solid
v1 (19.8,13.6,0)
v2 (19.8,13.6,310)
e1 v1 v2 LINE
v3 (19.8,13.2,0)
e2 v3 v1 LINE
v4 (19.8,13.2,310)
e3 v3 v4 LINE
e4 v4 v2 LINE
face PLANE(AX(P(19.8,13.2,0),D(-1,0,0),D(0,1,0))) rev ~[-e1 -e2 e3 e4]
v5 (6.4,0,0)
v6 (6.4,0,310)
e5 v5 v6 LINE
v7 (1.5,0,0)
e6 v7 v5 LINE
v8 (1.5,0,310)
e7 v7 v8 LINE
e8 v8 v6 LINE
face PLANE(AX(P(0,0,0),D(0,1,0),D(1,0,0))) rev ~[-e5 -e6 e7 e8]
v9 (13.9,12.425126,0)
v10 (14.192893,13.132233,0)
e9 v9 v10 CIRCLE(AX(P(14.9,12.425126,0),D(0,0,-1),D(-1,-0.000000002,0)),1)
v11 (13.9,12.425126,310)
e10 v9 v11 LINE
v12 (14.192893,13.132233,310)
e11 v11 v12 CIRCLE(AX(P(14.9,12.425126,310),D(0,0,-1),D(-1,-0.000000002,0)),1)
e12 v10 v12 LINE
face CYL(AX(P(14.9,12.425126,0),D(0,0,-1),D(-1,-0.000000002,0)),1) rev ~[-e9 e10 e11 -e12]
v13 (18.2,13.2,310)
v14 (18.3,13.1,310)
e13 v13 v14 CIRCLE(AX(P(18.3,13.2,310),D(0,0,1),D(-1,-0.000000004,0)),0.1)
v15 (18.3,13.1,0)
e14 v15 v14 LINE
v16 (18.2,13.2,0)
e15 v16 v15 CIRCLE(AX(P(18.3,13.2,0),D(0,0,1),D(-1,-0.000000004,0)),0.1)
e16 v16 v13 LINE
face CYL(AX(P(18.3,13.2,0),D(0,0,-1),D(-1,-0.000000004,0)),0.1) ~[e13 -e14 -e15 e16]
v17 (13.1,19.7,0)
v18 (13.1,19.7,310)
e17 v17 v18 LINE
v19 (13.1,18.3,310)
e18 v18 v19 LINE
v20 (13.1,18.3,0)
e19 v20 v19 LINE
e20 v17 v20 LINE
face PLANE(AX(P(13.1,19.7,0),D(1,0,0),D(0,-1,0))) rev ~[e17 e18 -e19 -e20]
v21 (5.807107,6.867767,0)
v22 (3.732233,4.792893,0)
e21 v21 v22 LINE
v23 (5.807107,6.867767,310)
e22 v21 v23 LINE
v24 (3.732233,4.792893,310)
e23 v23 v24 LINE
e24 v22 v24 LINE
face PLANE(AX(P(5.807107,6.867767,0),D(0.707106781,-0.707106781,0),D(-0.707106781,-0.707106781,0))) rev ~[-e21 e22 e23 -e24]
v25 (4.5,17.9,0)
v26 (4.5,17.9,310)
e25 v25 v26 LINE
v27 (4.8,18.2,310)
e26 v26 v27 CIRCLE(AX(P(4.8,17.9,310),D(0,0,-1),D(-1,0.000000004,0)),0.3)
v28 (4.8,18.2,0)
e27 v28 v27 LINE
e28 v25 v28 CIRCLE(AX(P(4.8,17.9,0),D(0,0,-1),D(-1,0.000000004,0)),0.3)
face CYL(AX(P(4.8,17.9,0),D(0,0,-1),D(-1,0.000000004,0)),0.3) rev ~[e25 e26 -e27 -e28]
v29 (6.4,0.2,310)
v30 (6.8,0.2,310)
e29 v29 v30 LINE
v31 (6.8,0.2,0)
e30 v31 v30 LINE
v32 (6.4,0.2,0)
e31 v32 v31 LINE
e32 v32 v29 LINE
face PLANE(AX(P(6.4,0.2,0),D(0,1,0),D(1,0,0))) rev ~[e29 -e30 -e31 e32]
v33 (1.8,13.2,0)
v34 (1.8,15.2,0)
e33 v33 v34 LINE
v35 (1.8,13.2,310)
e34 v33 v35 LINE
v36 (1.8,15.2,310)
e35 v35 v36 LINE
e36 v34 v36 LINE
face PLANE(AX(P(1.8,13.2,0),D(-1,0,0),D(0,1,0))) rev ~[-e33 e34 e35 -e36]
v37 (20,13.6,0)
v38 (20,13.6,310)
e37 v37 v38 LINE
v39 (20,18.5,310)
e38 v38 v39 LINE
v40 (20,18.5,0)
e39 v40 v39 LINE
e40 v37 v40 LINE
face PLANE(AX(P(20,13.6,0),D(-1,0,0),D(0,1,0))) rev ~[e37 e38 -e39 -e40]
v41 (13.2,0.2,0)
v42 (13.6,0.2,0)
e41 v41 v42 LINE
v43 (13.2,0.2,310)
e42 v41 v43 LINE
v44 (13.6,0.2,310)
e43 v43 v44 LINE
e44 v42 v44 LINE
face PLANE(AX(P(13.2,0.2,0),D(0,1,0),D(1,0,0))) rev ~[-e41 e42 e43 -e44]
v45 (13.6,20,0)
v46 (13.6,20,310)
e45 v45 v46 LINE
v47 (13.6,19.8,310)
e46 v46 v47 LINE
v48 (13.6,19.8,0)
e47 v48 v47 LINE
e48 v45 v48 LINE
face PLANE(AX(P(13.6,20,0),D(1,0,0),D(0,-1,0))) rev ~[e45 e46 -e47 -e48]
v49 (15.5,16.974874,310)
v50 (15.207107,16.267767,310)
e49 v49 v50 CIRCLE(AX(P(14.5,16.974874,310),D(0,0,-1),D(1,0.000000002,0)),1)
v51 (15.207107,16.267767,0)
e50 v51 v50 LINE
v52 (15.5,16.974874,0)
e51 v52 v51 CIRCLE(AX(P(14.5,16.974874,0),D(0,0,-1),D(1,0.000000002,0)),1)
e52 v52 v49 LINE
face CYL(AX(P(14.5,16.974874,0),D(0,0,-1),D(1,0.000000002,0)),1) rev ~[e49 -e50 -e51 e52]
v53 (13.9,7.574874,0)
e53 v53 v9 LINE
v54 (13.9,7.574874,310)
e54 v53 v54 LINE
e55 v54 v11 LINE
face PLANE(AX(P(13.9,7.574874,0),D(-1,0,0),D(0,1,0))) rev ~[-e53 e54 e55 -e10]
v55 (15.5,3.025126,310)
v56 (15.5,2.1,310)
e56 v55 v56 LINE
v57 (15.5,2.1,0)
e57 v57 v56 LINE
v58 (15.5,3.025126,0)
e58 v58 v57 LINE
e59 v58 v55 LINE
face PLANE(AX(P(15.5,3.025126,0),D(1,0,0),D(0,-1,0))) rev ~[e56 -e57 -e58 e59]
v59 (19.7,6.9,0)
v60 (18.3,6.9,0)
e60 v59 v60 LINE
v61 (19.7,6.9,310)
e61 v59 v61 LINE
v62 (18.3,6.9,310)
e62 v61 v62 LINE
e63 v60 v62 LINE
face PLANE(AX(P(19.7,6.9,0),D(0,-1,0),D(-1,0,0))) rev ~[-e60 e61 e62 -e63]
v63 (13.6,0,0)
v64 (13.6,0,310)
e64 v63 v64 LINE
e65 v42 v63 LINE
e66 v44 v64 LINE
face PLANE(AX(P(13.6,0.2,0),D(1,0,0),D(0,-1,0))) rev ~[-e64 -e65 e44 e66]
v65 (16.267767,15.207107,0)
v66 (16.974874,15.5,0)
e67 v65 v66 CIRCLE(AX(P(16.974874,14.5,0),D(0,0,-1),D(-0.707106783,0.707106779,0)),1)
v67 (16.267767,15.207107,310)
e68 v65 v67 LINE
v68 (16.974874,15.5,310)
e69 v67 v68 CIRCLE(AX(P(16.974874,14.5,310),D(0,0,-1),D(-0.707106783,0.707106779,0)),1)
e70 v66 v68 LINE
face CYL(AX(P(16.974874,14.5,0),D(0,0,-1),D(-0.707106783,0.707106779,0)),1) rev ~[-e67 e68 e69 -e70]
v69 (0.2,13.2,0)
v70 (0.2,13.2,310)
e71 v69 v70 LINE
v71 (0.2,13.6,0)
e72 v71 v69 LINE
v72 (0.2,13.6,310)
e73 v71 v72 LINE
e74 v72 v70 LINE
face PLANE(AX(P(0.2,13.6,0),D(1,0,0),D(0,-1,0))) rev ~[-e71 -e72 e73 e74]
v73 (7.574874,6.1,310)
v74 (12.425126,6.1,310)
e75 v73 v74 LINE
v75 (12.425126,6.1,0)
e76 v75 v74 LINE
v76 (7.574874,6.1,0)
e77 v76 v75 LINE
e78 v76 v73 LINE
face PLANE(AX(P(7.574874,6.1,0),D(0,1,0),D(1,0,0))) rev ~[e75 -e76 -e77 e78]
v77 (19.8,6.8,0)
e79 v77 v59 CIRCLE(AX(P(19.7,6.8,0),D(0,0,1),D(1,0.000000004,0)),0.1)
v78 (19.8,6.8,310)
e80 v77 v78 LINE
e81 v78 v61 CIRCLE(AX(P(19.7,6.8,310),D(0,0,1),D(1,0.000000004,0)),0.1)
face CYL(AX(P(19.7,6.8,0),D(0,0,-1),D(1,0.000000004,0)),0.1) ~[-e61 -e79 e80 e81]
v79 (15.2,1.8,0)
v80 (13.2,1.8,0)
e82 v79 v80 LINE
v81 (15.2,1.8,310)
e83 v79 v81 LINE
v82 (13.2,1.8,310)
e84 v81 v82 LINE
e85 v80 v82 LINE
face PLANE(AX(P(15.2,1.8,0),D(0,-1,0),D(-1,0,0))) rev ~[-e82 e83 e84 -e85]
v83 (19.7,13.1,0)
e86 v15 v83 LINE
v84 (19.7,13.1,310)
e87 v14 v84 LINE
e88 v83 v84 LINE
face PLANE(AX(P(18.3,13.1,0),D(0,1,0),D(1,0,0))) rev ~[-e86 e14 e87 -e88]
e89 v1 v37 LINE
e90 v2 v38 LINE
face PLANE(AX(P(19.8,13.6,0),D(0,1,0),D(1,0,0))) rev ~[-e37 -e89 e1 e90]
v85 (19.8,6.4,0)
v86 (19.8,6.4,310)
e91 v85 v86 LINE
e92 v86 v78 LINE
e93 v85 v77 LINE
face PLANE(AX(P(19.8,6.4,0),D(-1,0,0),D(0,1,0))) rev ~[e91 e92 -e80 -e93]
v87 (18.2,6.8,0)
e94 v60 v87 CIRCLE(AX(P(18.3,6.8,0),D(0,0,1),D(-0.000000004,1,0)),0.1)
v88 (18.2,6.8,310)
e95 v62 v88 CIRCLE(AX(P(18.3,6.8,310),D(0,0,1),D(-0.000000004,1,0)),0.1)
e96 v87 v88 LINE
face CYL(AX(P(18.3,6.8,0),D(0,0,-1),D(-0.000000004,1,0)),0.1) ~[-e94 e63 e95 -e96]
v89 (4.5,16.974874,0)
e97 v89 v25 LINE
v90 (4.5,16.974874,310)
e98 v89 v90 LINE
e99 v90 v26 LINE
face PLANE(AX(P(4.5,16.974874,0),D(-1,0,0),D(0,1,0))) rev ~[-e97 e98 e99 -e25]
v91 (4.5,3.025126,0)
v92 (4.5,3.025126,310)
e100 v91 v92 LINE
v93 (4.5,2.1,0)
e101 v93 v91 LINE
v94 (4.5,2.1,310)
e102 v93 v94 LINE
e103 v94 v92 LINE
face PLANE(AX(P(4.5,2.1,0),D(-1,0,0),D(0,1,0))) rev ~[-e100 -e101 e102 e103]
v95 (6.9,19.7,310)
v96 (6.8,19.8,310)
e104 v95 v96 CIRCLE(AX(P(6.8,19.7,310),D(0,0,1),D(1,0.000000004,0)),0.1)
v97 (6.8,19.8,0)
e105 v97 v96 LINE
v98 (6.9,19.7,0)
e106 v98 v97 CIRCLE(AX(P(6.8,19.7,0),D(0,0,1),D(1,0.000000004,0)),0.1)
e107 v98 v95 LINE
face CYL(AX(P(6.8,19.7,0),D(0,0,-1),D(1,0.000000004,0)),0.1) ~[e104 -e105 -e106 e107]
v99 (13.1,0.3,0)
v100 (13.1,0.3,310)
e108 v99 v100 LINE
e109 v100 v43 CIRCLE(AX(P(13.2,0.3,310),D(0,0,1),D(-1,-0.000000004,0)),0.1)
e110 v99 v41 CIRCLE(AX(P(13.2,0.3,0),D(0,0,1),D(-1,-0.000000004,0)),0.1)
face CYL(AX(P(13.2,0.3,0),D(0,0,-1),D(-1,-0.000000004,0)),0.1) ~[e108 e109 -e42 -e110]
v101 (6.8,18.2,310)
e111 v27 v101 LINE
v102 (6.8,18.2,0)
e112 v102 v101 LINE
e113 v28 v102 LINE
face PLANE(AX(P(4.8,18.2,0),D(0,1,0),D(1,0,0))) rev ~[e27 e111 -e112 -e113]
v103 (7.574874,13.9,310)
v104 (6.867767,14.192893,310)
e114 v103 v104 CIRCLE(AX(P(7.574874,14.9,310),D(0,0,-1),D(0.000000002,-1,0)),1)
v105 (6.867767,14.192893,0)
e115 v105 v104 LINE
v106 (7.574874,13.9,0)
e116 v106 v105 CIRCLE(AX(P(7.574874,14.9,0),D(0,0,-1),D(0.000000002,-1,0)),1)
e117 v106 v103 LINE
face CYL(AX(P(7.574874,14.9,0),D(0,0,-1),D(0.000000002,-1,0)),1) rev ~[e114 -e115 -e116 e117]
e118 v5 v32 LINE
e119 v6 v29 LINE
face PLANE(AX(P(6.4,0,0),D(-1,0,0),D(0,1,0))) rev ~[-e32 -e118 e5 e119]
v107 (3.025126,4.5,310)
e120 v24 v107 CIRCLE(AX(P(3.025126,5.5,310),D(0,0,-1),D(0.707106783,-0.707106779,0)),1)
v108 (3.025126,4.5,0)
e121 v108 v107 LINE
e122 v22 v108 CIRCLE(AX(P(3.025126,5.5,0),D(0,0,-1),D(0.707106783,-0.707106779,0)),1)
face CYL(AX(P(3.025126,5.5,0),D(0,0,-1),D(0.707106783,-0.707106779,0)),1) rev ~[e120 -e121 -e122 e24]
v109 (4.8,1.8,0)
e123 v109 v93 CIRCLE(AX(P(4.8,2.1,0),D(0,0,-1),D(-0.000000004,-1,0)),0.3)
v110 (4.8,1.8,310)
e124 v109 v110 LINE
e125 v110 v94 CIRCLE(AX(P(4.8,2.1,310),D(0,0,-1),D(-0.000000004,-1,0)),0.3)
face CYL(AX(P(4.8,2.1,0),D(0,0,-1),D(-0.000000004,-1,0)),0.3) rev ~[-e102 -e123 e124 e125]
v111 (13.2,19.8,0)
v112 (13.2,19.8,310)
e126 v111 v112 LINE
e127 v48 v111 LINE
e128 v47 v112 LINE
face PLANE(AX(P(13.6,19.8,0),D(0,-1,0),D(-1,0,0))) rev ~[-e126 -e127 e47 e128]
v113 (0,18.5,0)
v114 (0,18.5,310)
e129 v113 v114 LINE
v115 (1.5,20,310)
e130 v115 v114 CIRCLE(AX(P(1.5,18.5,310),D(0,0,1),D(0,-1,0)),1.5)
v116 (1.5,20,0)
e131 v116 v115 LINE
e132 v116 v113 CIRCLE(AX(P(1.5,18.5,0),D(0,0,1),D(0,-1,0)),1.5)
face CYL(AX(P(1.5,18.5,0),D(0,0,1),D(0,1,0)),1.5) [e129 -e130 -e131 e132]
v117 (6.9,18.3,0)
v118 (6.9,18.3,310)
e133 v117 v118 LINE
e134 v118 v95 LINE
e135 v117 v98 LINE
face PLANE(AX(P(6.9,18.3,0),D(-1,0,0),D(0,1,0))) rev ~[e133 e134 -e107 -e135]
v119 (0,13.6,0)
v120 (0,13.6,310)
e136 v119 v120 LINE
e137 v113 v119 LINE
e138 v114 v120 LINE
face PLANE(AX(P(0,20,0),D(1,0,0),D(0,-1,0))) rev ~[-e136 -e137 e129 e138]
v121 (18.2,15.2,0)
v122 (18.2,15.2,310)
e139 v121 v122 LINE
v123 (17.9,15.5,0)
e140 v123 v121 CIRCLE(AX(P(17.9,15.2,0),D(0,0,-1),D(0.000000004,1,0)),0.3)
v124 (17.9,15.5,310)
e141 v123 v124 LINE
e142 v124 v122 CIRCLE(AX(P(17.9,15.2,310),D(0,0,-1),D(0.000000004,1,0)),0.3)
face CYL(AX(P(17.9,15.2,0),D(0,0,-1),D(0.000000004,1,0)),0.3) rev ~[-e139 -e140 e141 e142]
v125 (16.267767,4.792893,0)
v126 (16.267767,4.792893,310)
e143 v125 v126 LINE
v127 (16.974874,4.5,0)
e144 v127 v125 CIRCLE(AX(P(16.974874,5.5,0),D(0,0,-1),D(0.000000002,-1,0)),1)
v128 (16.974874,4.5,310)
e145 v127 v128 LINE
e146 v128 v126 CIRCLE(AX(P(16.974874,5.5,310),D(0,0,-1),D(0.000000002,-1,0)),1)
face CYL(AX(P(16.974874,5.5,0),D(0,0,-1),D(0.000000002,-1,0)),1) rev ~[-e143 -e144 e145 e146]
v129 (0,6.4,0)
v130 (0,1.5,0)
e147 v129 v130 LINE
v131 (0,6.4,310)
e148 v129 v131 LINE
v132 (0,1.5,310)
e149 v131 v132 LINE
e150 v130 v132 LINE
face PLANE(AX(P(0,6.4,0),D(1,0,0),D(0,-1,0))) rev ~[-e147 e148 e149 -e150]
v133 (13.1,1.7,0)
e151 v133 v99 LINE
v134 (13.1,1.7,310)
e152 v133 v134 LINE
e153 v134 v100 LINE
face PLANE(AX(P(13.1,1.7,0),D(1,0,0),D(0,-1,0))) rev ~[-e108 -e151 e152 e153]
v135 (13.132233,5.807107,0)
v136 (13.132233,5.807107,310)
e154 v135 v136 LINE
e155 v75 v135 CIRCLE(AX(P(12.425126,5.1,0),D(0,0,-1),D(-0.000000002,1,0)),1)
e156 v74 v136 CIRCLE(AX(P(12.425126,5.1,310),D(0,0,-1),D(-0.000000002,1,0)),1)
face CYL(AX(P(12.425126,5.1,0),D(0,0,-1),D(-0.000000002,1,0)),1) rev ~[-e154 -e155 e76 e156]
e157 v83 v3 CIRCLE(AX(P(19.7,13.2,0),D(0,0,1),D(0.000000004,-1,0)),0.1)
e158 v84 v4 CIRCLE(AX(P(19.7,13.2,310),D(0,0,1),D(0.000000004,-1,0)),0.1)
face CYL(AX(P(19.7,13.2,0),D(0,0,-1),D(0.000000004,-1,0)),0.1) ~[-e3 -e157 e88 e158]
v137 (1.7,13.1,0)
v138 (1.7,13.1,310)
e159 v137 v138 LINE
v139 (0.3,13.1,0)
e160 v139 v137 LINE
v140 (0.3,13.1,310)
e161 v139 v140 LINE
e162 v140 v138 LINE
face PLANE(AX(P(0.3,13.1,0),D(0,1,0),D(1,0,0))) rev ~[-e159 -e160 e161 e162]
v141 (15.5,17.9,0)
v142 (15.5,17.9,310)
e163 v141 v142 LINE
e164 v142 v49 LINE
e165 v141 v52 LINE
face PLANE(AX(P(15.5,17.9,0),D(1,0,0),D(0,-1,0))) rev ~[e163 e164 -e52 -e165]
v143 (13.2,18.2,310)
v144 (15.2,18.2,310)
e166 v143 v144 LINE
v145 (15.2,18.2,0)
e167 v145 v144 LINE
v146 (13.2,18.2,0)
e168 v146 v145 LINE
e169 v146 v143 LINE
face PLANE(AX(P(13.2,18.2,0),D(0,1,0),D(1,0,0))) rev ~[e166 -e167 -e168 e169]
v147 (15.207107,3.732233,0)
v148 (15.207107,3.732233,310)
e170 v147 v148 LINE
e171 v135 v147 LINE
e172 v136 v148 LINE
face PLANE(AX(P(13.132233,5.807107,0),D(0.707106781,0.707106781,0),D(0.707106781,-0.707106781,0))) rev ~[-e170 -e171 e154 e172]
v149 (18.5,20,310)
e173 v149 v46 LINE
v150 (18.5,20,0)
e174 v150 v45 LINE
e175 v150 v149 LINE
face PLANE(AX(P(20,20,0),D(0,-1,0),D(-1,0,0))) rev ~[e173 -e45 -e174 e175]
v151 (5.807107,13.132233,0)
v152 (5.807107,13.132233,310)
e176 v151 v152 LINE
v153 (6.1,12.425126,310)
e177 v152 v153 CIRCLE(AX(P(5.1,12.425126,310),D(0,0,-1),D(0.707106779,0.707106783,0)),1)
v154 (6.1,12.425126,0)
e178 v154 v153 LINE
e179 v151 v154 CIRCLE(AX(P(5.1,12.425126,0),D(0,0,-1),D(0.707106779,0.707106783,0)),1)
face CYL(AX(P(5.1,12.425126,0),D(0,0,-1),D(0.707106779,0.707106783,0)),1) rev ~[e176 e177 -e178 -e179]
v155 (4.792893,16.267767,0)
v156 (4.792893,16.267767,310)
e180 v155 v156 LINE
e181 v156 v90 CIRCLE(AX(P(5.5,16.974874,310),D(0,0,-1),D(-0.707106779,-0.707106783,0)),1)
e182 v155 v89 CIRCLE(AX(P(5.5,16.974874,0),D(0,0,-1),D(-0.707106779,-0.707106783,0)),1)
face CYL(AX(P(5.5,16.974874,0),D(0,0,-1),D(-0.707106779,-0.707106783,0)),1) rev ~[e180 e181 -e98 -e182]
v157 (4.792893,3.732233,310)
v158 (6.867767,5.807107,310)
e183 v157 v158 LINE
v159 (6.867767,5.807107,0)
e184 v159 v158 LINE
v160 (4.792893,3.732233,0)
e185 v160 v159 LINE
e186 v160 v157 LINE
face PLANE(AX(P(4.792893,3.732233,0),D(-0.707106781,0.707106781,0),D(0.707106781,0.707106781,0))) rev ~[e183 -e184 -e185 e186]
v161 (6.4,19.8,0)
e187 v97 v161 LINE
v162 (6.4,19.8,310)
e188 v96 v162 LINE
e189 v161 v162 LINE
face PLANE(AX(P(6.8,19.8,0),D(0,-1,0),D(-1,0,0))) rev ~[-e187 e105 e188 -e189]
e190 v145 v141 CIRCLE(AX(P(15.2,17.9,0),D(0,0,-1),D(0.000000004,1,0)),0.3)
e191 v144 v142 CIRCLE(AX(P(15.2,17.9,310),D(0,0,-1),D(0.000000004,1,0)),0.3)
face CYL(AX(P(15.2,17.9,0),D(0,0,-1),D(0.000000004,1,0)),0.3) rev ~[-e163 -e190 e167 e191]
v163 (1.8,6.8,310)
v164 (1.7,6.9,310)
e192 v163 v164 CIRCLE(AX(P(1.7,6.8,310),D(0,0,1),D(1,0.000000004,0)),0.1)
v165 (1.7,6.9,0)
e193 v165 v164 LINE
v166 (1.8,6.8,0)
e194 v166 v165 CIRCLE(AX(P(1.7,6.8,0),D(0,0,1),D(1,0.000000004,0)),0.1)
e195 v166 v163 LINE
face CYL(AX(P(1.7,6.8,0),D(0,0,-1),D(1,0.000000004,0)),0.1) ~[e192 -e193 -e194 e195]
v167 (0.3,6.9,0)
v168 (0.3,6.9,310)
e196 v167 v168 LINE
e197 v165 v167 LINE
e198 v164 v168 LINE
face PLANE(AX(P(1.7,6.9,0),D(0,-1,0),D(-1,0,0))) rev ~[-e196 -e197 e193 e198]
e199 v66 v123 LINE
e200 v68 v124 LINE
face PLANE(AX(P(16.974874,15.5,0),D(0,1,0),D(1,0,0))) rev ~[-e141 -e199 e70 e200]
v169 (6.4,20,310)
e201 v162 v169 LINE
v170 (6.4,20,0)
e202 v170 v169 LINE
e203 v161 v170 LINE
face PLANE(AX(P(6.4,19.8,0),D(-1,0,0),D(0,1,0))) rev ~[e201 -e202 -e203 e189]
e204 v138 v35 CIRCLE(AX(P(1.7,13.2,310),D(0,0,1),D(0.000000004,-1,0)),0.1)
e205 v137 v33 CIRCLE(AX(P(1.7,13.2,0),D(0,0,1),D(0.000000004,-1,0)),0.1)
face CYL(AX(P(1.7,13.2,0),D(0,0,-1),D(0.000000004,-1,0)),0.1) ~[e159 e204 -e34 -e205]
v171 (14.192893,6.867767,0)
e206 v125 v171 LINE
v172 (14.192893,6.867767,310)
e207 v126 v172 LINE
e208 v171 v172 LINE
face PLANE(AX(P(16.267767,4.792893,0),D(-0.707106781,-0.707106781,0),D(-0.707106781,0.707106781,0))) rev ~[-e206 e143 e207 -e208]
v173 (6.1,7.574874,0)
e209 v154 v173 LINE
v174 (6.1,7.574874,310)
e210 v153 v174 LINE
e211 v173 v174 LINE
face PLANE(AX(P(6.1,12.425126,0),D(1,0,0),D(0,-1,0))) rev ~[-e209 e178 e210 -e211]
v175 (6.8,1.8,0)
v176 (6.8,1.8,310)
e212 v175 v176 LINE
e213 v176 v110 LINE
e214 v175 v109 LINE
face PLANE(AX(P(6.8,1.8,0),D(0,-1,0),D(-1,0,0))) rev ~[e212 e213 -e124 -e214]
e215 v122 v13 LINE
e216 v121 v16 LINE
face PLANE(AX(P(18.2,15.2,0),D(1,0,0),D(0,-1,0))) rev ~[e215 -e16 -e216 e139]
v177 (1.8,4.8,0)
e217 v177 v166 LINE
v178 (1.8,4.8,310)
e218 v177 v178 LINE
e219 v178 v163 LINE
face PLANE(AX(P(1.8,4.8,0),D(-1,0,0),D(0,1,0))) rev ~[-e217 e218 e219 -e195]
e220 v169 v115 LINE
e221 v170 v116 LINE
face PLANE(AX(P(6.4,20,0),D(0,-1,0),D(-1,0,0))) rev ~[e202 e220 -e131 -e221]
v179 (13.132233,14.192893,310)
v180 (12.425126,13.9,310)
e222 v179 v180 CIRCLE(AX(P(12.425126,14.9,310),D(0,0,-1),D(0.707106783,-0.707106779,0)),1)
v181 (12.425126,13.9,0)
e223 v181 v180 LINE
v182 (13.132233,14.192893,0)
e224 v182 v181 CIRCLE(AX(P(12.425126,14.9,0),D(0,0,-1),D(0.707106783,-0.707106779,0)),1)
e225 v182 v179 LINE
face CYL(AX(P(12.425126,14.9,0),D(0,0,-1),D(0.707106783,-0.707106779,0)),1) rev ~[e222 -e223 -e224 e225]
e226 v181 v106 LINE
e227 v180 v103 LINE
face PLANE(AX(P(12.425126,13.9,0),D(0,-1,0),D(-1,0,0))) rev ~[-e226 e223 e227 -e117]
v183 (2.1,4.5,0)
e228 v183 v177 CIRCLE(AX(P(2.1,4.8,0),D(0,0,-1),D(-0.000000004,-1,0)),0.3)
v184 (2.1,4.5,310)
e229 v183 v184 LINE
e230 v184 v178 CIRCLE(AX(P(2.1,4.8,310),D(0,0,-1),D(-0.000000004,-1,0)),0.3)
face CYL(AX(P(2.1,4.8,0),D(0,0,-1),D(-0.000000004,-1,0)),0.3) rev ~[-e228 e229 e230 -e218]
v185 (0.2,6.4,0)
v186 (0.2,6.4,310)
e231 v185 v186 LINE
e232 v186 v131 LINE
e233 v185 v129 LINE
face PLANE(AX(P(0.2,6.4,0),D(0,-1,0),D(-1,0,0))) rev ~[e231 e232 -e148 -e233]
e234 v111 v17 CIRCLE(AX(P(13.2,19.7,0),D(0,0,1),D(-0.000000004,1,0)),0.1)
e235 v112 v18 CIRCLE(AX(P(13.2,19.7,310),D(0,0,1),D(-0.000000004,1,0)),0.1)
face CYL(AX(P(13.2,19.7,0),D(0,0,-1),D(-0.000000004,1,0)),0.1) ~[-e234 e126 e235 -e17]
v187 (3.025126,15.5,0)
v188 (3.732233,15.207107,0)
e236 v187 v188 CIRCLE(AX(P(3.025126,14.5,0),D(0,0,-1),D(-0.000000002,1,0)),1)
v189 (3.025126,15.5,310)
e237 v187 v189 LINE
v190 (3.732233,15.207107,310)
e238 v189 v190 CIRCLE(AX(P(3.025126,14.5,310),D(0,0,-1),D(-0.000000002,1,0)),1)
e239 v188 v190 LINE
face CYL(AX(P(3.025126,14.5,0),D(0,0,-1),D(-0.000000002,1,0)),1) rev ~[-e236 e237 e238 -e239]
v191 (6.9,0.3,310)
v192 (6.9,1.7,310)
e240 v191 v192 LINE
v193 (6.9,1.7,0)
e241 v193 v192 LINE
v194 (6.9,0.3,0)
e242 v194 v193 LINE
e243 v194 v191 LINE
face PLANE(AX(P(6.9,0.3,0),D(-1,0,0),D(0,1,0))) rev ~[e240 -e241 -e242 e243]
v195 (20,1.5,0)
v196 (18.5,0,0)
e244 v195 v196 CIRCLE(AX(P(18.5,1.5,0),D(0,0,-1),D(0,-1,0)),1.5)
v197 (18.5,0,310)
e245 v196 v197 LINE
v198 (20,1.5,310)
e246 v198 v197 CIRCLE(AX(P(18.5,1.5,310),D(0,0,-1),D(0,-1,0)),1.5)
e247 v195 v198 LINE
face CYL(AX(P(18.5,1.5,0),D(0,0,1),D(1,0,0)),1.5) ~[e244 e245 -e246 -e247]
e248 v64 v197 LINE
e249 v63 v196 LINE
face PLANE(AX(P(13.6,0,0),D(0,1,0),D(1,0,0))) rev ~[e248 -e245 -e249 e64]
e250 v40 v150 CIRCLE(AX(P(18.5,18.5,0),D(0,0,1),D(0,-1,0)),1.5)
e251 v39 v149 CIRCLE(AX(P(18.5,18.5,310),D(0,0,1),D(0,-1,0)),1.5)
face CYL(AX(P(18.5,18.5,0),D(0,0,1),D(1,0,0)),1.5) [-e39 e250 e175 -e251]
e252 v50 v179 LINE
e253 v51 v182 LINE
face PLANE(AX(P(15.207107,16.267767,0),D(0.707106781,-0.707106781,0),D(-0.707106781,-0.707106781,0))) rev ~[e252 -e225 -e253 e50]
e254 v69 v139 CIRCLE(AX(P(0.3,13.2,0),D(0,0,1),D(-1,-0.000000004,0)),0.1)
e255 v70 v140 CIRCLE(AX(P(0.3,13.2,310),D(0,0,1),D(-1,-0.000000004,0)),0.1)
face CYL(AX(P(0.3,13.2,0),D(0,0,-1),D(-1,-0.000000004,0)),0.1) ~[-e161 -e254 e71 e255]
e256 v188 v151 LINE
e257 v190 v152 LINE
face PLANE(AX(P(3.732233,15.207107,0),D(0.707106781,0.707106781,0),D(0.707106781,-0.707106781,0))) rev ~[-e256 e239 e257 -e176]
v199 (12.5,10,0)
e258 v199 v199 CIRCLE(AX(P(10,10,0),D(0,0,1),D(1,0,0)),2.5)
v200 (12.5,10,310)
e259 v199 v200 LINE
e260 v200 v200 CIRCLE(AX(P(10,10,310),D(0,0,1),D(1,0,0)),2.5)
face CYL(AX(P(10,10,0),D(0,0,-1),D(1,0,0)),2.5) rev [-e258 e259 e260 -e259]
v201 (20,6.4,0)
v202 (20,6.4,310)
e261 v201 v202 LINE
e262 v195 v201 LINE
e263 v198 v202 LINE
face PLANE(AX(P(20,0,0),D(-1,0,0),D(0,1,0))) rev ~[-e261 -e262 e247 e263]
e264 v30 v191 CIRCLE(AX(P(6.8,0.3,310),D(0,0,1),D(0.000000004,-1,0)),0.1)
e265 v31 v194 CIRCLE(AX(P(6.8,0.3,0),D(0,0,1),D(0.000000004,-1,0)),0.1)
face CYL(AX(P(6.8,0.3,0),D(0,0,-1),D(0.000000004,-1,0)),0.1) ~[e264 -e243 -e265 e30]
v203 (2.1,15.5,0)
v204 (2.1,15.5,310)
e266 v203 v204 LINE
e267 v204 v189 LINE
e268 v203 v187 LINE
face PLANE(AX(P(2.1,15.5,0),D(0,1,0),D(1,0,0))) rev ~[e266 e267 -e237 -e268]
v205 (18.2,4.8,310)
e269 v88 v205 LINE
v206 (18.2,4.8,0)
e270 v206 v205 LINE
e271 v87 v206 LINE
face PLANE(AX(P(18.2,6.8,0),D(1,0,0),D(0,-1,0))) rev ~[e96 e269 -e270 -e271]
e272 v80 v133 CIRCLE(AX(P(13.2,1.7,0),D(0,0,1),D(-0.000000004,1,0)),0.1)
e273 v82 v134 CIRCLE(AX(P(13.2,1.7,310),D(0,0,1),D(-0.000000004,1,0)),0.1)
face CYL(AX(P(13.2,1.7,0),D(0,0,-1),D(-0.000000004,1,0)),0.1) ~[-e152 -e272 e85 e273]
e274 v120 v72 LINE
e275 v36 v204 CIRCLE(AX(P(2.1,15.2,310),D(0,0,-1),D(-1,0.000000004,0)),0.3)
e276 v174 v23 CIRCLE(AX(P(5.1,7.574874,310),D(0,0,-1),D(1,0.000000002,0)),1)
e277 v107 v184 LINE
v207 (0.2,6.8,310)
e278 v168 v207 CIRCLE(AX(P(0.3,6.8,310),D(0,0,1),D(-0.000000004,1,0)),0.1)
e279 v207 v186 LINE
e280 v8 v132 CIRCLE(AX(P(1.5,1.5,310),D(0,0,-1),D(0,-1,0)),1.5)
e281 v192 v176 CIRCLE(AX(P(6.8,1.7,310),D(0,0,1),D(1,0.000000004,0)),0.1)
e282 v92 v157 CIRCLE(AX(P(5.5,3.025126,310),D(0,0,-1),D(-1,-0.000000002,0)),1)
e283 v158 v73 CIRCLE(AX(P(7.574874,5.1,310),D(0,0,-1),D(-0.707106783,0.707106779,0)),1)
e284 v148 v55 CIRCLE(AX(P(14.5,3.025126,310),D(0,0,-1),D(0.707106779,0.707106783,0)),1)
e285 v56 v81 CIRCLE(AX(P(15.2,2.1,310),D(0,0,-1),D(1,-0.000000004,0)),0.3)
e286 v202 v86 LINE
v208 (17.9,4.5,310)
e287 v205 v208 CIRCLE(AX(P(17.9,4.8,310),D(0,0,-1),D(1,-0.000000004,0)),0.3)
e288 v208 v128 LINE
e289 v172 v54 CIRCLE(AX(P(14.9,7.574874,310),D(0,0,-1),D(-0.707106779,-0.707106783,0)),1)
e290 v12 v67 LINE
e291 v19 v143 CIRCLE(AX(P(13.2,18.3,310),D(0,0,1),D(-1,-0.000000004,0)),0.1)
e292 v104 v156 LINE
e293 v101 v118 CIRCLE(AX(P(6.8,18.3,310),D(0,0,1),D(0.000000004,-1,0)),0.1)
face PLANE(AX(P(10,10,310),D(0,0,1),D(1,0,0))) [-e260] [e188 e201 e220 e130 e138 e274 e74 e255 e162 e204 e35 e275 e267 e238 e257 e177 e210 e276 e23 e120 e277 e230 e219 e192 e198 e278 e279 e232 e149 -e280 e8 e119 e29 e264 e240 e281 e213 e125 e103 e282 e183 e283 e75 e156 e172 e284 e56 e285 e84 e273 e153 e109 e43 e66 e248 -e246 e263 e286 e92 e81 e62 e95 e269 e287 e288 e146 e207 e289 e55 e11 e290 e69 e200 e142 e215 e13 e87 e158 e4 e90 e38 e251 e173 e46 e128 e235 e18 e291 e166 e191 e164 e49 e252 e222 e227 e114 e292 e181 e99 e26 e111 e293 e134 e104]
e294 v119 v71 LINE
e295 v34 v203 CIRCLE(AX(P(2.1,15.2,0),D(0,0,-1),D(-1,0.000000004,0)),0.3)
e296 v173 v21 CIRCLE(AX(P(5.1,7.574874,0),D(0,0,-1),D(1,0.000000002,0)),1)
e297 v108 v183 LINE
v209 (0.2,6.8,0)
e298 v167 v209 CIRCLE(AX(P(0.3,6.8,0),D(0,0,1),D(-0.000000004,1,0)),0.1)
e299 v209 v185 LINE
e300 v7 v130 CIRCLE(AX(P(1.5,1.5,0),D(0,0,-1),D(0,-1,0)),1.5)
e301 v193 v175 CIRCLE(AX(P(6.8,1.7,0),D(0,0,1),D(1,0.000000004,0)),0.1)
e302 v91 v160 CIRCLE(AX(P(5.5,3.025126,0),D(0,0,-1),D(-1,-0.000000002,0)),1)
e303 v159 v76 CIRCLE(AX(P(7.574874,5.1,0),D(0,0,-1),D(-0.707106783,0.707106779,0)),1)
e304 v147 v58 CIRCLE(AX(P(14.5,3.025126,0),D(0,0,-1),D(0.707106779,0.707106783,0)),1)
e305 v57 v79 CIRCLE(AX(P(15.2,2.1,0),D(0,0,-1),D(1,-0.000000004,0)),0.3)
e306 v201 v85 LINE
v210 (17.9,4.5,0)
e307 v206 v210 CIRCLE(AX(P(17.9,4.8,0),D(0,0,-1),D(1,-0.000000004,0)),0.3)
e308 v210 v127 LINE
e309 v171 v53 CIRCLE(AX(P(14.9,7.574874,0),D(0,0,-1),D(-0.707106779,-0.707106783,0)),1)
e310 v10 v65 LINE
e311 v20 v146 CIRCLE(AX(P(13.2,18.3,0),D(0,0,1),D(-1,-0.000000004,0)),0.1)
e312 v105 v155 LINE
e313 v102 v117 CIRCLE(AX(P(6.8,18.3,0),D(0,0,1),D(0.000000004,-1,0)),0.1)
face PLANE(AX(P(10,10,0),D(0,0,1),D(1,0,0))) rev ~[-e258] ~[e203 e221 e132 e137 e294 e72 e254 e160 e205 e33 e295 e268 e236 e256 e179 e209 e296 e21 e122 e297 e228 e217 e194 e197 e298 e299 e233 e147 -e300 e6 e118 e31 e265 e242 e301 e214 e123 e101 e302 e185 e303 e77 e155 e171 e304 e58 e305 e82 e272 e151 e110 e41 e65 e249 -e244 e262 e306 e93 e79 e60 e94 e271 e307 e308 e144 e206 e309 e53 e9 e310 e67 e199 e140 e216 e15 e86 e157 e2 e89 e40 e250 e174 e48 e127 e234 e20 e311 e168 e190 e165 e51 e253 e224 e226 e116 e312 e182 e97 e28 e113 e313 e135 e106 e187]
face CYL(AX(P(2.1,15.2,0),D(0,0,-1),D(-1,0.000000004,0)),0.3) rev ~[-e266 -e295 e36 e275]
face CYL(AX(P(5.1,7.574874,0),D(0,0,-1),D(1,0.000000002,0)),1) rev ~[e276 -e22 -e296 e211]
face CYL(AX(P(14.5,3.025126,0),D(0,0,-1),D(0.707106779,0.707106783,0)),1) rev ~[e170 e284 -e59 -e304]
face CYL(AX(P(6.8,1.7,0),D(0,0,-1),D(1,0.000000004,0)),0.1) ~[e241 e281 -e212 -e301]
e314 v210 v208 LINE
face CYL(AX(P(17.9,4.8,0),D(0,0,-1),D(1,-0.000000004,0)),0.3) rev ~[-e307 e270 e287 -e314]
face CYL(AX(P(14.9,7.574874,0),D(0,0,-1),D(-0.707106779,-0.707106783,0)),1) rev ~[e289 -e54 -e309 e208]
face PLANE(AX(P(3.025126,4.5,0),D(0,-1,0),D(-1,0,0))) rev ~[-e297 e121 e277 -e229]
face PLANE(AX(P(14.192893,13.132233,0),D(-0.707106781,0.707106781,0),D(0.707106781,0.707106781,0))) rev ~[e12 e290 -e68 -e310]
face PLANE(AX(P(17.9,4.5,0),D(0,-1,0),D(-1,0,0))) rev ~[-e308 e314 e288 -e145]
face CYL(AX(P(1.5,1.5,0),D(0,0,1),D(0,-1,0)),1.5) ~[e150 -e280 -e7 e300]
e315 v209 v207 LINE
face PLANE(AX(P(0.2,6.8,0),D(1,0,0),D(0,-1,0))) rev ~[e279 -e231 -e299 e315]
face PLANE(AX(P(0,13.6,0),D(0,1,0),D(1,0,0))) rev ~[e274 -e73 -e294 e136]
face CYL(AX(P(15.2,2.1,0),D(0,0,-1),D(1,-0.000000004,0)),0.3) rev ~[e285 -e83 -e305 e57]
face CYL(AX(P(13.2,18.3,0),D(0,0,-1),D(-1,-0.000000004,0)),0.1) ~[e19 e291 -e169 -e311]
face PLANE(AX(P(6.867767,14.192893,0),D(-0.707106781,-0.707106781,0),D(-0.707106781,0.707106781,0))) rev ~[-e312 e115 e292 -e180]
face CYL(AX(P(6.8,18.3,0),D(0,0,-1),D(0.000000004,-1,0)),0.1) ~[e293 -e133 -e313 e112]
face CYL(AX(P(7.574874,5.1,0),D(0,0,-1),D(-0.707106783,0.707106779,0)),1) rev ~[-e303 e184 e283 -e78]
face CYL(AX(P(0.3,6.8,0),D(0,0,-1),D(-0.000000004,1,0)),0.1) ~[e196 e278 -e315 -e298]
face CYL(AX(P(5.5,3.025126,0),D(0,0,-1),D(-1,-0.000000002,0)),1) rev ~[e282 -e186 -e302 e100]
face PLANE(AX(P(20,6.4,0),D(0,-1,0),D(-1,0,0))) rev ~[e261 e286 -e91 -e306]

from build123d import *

# Parameters (mm, degrees)
SKETCH_1_R      = 2.5
EXTRUDE_1_DEPTH = 310
FILLET_1_R      = 1.5


with BuildPart() as part:
    # 草图1 → 凸台-拉伸1 (new body)
    with BuildSketch(Plane.XY):
        with BuildLine():
            Line((20, 13.6), (20, 20))
            Line((20, 20), (13.6, 20))
            Line((13.6, 20), (13.6, 19.8))
            Line((13.6, 19.8), (13.2, 19.8))
            ThreePointArc((13.2, 19.8), (13.129289322, 19.770710678), (13.1, 19.7))
            Line((13.1, 19.7), (13.1, 18.3))
            ThreePointArc((13.1, 18.3), (13.129289322, 18.229289322), (13.2, 18.2))
            Line((13.2, 18.2), (15.2, 18.2))
            ThreePointArc((15.2, 18.2), (15.412132034, 18.112132034), (15.5, 17.9))
            Line((15.5, 17.9), (15.5, 16.974873734))
            ThreePointArc((15.5, 16.974873734), (15.423879533, 16.592190302), (15.207106781, 16.267766953))
            Line((15.207106781, 16.267766953), (13.132233047, 14.192893219))
            ThreePointArc((13.132233047, 14.192893219), (12.807809698, 13.976120467), (12.425126266, 13.9))
            Line((12.425126266, 13.9), (7.574873734, 13.9))
            ThreePointArc((7.574873734, 13.9), (7.192190302, 13.976120467), (6.867766953, 14.192893219))
            Line((6.867766953, 14.192893219), (4.792893219, 16.267766953))
            ThreePointArc((4.792893219, 16.267766953), (4.576120467, 16.592190302), (4.5, 16.974873734))
            Line((4.5, 16.974873734), (4.5, 17.9))
            ThreePointArc((4.5, 17.9), (4.587867966, 18.112132034), (4.8, 18.2))
            Line((4.8, 18.2), (6.8, 18.2))
            ThreePointArc((6.8, 18.2), (6.870710678, 18.229289322), (6.9, 18.3))
            Line((6.9, 18.3), (6.9, 19.7))
            ThreePointArc((6.9, 19.7), (6.870710678, 19.770710678), (6.8, 19.8))
            Line((6.8, 19.8), (6.4, 19.8))
            Line((6.4, 19.8), (6.4, 20))
            Line((6.4, 20), (0, 20))
            Line((0, 20), (0, 13.6))
            Line((0, 13.6), (0.2, 13.6))
            Line((0.2, 13.6), (0.2, 13.2))
            ThreePointArc((0.2, 13.2), (0.229289322, 13.129289322), (0.3, 13.1))
            Line((0.3, 13.1), (1.7, 13.1))
            ThreePointArc((1.7, 13.1), (1.770710678, 13.129289322), (1.8, 13.2))
            Line((1.8, 13.2), (1.8, 15.2))
            ThreePointArc((1.8, 15.2), (1.887867966, 15.412132034), (2.1, 15.5))
            Line((2.1, 15.5), (3.025126266, 15.5))
            ThreePointArc((3.025126266, 15.5), (3.407809698, 15.423879533), (3.732233047, 15.207106781))
            Line((3.732233047, 15.207106781), (5.807106781, 13.132233047))
            ThreePointArc((5.807106781, 13.132233047), (6.023879533, 12.807809698), (6.1, 12.425126266))
            Line((6.1, 12.425126266), (6.1, 7.574873734))
            ThreePointArc((6.1, 7.574873734), (6.023879533, 7.192190302), (5.807106781, 6.867766953))
            Line((5.807106781, 6.867766953), (3.732233047, 4.792893219))
            ThreePointArc((3.732233047, 4.792893219), (3.407809698, 4.576120467), (3.025126266, 4.5))
            Line((3.025126266, 4.5), (2.1, 4.5))
            ThreePointArc((2.1, 4.5), (1.887867966, 4.587867966), (1.8, 4.8))
            Line((1.8, 4.8), (1.8, 6.8))
            ThreePointArc((1.8, 6.8), (1.770710678, 6.870710678), (1.7, 6.9))
            Line((1.7, 6.9), (0.3, 6.9))
            ThreePointArc((0.3, 6.9), (0.229289322, 6.870710678), (0.2, 6.8))
            Line((0.2, 6.8), (0.2, 6.4))
            Line((0.2, 6.4), (0, 6.4))
            Line((0, 6.4), (0, 0))
            Line((0, 0), (6.4, 0))
            Line((6.4, 0), (6.4, 0.2))
            Line((6.4, 0.2), (6.8, 0.2))
            ThreePointArc((6.8, 0.2), (6.870710678, 0.229289322), (6.9, 0.3))
            Line((6.9, 0.3), (6.9, 1.7))
            ThreePointArc((6.9, 1.7), (6.870710678, 1.770710678), (6.8, 1.8))
            Line((6.8, 1.8), (4.8, 1.8))
            ThreePointArc((4.8, 1.8), (4.587867966, 1.887867966), (4.5, 2.1))
            Line((4.5, 2.1), (4.5, 3.025126266))
            ThreePointArc((4.5, 3.025126266), (4.576120467, 3.407809698), (4.792893219, 3.732233047))
            Line((4.792893219, 3.732233047), (6.867766953, 5.807106781))
            ThreePointArc((6.867766953, 5.807106781), (7.192190302, 6.023879533), (7.574873734, 6.1))
            Line((7.574873734, 6.1), (12.425126266, 6.1))
            ThreePointArc((12.425126266, 6.1), (12.807809698, 6.023879533), (13.132233047, 5.807106781))
            Line((13.132233047, 5.807106781), (15.207106781, 3.732233047))
            ThreePointArc((15.207106781, 3.732233047), (15.423879533, 3.407809698), (15.5, 3.025126266))
            Line((15.5, 3.025126266), (15.5, 2.1))
            ThreePointArc((15.5, 2.1), (15.412132034, 1.887867966), (15.2, 1.8))
            Line((15.2, 1.8), (13.2, 1.8))
            ThreePointArc((13.2, 1.8), (13.129289322, 1.770710678), (13.1, 1.7))
            Line((13.1, 1.7), (13.1, 0.3))
            ThreePointArc((13.1, 0.3), (13.129289322, 0.229289322), (13.2, 0.2))
            Line((13.2, 0.2), (13.6, 0.2))
            Line((13.6, 0.2), (13.6, 0))
            Line((13.6, 0), (20, 0))
            Line((20, 0), (20, 6.4))
            Line((20, 6.4), (19.8, 6.4))
            Line((19.8, 6.4), (19.8, 6.8))
            ThreePointArc((19.8, 6.8), (19.770710678, 6.870710678), (19.7, 6.9))
            Line((19.7, 6.9), (18.3, 6.9))
            ThreePointArc((18.3, 6.9), (18.229289322, 6.870710678), (18.2, 6.8))
            Line((18.2, 6.8), (18.2, 4.8))
            ThreePointArc((18.2, 4.8), (18.112132034, 4.587867966), (17.9, 4.5))
            Line((17.9, 4.5), (16.974873734, 4.5))
            ThreePointArc((16.974873734, 4.5), (16.592190302, 4.576120467), (16.267766953, 4.792893219))
            Line((16.267766953, 4.792893219), (14.192893219, 6.867766953))
            ThreePointArc((14.192893219, 6.867766953), (13.976120467, 7.192190302), (13.9, 7.574873734))
            Line((13.9, 7.574873734), (13.9, 12.425126266))
            ThreePointArc((13.9, 12.425126266), (13.976120467, 12.807809698), (14.192893219, 13.132233047))
            Line((14.192893219, 13.132233047), (16.267766953, 15.207106781))
            ThreePointArc((16.267766953, 15.207106781), (16.592190302, 15.423879533), (16.974873734, 15.5))
            Line((16.974873734, 15.5), (17.9, 15.5))
            ThreePointArc((17.9, 15.5), (18.112132034, 15.412132034), (18.2, 15.2))
            Line((18.2, 15.2), (18.2, 13.2))
            ThreePointArc((18.2, 13.2), (18.229289322, 13.129289322), (18.3, 13.1))
            Line((18.3, 13.1), (19.7, 13.1))
            ThreePointArc((19.7, 13.1), (19.770710678, 13.129289322), (19.8, 13.2))
            Line((19.8, 13.2), (19.8, 13.6))
            Line((19.8, 13.6), (20, 13.6))
        make_face()
        with Locations((10, 10)):
            Circle(SKETCH_1_R, mode=Mode.SUBTRACT)
    extrude(amount=EXTRUDE_1_DEPTH)

    # 圆角1
    fillet_1_edges = [part.edges().sort_by_distance(p)[0] for p in [
        (0, 0, 155),
        (0, 20, 155),
        (20, 20, 155),
        (20, 0, 155),
    ]]
    fillet(fillet_1_edges, radius=FILLET_1_R)


solid = part.part
